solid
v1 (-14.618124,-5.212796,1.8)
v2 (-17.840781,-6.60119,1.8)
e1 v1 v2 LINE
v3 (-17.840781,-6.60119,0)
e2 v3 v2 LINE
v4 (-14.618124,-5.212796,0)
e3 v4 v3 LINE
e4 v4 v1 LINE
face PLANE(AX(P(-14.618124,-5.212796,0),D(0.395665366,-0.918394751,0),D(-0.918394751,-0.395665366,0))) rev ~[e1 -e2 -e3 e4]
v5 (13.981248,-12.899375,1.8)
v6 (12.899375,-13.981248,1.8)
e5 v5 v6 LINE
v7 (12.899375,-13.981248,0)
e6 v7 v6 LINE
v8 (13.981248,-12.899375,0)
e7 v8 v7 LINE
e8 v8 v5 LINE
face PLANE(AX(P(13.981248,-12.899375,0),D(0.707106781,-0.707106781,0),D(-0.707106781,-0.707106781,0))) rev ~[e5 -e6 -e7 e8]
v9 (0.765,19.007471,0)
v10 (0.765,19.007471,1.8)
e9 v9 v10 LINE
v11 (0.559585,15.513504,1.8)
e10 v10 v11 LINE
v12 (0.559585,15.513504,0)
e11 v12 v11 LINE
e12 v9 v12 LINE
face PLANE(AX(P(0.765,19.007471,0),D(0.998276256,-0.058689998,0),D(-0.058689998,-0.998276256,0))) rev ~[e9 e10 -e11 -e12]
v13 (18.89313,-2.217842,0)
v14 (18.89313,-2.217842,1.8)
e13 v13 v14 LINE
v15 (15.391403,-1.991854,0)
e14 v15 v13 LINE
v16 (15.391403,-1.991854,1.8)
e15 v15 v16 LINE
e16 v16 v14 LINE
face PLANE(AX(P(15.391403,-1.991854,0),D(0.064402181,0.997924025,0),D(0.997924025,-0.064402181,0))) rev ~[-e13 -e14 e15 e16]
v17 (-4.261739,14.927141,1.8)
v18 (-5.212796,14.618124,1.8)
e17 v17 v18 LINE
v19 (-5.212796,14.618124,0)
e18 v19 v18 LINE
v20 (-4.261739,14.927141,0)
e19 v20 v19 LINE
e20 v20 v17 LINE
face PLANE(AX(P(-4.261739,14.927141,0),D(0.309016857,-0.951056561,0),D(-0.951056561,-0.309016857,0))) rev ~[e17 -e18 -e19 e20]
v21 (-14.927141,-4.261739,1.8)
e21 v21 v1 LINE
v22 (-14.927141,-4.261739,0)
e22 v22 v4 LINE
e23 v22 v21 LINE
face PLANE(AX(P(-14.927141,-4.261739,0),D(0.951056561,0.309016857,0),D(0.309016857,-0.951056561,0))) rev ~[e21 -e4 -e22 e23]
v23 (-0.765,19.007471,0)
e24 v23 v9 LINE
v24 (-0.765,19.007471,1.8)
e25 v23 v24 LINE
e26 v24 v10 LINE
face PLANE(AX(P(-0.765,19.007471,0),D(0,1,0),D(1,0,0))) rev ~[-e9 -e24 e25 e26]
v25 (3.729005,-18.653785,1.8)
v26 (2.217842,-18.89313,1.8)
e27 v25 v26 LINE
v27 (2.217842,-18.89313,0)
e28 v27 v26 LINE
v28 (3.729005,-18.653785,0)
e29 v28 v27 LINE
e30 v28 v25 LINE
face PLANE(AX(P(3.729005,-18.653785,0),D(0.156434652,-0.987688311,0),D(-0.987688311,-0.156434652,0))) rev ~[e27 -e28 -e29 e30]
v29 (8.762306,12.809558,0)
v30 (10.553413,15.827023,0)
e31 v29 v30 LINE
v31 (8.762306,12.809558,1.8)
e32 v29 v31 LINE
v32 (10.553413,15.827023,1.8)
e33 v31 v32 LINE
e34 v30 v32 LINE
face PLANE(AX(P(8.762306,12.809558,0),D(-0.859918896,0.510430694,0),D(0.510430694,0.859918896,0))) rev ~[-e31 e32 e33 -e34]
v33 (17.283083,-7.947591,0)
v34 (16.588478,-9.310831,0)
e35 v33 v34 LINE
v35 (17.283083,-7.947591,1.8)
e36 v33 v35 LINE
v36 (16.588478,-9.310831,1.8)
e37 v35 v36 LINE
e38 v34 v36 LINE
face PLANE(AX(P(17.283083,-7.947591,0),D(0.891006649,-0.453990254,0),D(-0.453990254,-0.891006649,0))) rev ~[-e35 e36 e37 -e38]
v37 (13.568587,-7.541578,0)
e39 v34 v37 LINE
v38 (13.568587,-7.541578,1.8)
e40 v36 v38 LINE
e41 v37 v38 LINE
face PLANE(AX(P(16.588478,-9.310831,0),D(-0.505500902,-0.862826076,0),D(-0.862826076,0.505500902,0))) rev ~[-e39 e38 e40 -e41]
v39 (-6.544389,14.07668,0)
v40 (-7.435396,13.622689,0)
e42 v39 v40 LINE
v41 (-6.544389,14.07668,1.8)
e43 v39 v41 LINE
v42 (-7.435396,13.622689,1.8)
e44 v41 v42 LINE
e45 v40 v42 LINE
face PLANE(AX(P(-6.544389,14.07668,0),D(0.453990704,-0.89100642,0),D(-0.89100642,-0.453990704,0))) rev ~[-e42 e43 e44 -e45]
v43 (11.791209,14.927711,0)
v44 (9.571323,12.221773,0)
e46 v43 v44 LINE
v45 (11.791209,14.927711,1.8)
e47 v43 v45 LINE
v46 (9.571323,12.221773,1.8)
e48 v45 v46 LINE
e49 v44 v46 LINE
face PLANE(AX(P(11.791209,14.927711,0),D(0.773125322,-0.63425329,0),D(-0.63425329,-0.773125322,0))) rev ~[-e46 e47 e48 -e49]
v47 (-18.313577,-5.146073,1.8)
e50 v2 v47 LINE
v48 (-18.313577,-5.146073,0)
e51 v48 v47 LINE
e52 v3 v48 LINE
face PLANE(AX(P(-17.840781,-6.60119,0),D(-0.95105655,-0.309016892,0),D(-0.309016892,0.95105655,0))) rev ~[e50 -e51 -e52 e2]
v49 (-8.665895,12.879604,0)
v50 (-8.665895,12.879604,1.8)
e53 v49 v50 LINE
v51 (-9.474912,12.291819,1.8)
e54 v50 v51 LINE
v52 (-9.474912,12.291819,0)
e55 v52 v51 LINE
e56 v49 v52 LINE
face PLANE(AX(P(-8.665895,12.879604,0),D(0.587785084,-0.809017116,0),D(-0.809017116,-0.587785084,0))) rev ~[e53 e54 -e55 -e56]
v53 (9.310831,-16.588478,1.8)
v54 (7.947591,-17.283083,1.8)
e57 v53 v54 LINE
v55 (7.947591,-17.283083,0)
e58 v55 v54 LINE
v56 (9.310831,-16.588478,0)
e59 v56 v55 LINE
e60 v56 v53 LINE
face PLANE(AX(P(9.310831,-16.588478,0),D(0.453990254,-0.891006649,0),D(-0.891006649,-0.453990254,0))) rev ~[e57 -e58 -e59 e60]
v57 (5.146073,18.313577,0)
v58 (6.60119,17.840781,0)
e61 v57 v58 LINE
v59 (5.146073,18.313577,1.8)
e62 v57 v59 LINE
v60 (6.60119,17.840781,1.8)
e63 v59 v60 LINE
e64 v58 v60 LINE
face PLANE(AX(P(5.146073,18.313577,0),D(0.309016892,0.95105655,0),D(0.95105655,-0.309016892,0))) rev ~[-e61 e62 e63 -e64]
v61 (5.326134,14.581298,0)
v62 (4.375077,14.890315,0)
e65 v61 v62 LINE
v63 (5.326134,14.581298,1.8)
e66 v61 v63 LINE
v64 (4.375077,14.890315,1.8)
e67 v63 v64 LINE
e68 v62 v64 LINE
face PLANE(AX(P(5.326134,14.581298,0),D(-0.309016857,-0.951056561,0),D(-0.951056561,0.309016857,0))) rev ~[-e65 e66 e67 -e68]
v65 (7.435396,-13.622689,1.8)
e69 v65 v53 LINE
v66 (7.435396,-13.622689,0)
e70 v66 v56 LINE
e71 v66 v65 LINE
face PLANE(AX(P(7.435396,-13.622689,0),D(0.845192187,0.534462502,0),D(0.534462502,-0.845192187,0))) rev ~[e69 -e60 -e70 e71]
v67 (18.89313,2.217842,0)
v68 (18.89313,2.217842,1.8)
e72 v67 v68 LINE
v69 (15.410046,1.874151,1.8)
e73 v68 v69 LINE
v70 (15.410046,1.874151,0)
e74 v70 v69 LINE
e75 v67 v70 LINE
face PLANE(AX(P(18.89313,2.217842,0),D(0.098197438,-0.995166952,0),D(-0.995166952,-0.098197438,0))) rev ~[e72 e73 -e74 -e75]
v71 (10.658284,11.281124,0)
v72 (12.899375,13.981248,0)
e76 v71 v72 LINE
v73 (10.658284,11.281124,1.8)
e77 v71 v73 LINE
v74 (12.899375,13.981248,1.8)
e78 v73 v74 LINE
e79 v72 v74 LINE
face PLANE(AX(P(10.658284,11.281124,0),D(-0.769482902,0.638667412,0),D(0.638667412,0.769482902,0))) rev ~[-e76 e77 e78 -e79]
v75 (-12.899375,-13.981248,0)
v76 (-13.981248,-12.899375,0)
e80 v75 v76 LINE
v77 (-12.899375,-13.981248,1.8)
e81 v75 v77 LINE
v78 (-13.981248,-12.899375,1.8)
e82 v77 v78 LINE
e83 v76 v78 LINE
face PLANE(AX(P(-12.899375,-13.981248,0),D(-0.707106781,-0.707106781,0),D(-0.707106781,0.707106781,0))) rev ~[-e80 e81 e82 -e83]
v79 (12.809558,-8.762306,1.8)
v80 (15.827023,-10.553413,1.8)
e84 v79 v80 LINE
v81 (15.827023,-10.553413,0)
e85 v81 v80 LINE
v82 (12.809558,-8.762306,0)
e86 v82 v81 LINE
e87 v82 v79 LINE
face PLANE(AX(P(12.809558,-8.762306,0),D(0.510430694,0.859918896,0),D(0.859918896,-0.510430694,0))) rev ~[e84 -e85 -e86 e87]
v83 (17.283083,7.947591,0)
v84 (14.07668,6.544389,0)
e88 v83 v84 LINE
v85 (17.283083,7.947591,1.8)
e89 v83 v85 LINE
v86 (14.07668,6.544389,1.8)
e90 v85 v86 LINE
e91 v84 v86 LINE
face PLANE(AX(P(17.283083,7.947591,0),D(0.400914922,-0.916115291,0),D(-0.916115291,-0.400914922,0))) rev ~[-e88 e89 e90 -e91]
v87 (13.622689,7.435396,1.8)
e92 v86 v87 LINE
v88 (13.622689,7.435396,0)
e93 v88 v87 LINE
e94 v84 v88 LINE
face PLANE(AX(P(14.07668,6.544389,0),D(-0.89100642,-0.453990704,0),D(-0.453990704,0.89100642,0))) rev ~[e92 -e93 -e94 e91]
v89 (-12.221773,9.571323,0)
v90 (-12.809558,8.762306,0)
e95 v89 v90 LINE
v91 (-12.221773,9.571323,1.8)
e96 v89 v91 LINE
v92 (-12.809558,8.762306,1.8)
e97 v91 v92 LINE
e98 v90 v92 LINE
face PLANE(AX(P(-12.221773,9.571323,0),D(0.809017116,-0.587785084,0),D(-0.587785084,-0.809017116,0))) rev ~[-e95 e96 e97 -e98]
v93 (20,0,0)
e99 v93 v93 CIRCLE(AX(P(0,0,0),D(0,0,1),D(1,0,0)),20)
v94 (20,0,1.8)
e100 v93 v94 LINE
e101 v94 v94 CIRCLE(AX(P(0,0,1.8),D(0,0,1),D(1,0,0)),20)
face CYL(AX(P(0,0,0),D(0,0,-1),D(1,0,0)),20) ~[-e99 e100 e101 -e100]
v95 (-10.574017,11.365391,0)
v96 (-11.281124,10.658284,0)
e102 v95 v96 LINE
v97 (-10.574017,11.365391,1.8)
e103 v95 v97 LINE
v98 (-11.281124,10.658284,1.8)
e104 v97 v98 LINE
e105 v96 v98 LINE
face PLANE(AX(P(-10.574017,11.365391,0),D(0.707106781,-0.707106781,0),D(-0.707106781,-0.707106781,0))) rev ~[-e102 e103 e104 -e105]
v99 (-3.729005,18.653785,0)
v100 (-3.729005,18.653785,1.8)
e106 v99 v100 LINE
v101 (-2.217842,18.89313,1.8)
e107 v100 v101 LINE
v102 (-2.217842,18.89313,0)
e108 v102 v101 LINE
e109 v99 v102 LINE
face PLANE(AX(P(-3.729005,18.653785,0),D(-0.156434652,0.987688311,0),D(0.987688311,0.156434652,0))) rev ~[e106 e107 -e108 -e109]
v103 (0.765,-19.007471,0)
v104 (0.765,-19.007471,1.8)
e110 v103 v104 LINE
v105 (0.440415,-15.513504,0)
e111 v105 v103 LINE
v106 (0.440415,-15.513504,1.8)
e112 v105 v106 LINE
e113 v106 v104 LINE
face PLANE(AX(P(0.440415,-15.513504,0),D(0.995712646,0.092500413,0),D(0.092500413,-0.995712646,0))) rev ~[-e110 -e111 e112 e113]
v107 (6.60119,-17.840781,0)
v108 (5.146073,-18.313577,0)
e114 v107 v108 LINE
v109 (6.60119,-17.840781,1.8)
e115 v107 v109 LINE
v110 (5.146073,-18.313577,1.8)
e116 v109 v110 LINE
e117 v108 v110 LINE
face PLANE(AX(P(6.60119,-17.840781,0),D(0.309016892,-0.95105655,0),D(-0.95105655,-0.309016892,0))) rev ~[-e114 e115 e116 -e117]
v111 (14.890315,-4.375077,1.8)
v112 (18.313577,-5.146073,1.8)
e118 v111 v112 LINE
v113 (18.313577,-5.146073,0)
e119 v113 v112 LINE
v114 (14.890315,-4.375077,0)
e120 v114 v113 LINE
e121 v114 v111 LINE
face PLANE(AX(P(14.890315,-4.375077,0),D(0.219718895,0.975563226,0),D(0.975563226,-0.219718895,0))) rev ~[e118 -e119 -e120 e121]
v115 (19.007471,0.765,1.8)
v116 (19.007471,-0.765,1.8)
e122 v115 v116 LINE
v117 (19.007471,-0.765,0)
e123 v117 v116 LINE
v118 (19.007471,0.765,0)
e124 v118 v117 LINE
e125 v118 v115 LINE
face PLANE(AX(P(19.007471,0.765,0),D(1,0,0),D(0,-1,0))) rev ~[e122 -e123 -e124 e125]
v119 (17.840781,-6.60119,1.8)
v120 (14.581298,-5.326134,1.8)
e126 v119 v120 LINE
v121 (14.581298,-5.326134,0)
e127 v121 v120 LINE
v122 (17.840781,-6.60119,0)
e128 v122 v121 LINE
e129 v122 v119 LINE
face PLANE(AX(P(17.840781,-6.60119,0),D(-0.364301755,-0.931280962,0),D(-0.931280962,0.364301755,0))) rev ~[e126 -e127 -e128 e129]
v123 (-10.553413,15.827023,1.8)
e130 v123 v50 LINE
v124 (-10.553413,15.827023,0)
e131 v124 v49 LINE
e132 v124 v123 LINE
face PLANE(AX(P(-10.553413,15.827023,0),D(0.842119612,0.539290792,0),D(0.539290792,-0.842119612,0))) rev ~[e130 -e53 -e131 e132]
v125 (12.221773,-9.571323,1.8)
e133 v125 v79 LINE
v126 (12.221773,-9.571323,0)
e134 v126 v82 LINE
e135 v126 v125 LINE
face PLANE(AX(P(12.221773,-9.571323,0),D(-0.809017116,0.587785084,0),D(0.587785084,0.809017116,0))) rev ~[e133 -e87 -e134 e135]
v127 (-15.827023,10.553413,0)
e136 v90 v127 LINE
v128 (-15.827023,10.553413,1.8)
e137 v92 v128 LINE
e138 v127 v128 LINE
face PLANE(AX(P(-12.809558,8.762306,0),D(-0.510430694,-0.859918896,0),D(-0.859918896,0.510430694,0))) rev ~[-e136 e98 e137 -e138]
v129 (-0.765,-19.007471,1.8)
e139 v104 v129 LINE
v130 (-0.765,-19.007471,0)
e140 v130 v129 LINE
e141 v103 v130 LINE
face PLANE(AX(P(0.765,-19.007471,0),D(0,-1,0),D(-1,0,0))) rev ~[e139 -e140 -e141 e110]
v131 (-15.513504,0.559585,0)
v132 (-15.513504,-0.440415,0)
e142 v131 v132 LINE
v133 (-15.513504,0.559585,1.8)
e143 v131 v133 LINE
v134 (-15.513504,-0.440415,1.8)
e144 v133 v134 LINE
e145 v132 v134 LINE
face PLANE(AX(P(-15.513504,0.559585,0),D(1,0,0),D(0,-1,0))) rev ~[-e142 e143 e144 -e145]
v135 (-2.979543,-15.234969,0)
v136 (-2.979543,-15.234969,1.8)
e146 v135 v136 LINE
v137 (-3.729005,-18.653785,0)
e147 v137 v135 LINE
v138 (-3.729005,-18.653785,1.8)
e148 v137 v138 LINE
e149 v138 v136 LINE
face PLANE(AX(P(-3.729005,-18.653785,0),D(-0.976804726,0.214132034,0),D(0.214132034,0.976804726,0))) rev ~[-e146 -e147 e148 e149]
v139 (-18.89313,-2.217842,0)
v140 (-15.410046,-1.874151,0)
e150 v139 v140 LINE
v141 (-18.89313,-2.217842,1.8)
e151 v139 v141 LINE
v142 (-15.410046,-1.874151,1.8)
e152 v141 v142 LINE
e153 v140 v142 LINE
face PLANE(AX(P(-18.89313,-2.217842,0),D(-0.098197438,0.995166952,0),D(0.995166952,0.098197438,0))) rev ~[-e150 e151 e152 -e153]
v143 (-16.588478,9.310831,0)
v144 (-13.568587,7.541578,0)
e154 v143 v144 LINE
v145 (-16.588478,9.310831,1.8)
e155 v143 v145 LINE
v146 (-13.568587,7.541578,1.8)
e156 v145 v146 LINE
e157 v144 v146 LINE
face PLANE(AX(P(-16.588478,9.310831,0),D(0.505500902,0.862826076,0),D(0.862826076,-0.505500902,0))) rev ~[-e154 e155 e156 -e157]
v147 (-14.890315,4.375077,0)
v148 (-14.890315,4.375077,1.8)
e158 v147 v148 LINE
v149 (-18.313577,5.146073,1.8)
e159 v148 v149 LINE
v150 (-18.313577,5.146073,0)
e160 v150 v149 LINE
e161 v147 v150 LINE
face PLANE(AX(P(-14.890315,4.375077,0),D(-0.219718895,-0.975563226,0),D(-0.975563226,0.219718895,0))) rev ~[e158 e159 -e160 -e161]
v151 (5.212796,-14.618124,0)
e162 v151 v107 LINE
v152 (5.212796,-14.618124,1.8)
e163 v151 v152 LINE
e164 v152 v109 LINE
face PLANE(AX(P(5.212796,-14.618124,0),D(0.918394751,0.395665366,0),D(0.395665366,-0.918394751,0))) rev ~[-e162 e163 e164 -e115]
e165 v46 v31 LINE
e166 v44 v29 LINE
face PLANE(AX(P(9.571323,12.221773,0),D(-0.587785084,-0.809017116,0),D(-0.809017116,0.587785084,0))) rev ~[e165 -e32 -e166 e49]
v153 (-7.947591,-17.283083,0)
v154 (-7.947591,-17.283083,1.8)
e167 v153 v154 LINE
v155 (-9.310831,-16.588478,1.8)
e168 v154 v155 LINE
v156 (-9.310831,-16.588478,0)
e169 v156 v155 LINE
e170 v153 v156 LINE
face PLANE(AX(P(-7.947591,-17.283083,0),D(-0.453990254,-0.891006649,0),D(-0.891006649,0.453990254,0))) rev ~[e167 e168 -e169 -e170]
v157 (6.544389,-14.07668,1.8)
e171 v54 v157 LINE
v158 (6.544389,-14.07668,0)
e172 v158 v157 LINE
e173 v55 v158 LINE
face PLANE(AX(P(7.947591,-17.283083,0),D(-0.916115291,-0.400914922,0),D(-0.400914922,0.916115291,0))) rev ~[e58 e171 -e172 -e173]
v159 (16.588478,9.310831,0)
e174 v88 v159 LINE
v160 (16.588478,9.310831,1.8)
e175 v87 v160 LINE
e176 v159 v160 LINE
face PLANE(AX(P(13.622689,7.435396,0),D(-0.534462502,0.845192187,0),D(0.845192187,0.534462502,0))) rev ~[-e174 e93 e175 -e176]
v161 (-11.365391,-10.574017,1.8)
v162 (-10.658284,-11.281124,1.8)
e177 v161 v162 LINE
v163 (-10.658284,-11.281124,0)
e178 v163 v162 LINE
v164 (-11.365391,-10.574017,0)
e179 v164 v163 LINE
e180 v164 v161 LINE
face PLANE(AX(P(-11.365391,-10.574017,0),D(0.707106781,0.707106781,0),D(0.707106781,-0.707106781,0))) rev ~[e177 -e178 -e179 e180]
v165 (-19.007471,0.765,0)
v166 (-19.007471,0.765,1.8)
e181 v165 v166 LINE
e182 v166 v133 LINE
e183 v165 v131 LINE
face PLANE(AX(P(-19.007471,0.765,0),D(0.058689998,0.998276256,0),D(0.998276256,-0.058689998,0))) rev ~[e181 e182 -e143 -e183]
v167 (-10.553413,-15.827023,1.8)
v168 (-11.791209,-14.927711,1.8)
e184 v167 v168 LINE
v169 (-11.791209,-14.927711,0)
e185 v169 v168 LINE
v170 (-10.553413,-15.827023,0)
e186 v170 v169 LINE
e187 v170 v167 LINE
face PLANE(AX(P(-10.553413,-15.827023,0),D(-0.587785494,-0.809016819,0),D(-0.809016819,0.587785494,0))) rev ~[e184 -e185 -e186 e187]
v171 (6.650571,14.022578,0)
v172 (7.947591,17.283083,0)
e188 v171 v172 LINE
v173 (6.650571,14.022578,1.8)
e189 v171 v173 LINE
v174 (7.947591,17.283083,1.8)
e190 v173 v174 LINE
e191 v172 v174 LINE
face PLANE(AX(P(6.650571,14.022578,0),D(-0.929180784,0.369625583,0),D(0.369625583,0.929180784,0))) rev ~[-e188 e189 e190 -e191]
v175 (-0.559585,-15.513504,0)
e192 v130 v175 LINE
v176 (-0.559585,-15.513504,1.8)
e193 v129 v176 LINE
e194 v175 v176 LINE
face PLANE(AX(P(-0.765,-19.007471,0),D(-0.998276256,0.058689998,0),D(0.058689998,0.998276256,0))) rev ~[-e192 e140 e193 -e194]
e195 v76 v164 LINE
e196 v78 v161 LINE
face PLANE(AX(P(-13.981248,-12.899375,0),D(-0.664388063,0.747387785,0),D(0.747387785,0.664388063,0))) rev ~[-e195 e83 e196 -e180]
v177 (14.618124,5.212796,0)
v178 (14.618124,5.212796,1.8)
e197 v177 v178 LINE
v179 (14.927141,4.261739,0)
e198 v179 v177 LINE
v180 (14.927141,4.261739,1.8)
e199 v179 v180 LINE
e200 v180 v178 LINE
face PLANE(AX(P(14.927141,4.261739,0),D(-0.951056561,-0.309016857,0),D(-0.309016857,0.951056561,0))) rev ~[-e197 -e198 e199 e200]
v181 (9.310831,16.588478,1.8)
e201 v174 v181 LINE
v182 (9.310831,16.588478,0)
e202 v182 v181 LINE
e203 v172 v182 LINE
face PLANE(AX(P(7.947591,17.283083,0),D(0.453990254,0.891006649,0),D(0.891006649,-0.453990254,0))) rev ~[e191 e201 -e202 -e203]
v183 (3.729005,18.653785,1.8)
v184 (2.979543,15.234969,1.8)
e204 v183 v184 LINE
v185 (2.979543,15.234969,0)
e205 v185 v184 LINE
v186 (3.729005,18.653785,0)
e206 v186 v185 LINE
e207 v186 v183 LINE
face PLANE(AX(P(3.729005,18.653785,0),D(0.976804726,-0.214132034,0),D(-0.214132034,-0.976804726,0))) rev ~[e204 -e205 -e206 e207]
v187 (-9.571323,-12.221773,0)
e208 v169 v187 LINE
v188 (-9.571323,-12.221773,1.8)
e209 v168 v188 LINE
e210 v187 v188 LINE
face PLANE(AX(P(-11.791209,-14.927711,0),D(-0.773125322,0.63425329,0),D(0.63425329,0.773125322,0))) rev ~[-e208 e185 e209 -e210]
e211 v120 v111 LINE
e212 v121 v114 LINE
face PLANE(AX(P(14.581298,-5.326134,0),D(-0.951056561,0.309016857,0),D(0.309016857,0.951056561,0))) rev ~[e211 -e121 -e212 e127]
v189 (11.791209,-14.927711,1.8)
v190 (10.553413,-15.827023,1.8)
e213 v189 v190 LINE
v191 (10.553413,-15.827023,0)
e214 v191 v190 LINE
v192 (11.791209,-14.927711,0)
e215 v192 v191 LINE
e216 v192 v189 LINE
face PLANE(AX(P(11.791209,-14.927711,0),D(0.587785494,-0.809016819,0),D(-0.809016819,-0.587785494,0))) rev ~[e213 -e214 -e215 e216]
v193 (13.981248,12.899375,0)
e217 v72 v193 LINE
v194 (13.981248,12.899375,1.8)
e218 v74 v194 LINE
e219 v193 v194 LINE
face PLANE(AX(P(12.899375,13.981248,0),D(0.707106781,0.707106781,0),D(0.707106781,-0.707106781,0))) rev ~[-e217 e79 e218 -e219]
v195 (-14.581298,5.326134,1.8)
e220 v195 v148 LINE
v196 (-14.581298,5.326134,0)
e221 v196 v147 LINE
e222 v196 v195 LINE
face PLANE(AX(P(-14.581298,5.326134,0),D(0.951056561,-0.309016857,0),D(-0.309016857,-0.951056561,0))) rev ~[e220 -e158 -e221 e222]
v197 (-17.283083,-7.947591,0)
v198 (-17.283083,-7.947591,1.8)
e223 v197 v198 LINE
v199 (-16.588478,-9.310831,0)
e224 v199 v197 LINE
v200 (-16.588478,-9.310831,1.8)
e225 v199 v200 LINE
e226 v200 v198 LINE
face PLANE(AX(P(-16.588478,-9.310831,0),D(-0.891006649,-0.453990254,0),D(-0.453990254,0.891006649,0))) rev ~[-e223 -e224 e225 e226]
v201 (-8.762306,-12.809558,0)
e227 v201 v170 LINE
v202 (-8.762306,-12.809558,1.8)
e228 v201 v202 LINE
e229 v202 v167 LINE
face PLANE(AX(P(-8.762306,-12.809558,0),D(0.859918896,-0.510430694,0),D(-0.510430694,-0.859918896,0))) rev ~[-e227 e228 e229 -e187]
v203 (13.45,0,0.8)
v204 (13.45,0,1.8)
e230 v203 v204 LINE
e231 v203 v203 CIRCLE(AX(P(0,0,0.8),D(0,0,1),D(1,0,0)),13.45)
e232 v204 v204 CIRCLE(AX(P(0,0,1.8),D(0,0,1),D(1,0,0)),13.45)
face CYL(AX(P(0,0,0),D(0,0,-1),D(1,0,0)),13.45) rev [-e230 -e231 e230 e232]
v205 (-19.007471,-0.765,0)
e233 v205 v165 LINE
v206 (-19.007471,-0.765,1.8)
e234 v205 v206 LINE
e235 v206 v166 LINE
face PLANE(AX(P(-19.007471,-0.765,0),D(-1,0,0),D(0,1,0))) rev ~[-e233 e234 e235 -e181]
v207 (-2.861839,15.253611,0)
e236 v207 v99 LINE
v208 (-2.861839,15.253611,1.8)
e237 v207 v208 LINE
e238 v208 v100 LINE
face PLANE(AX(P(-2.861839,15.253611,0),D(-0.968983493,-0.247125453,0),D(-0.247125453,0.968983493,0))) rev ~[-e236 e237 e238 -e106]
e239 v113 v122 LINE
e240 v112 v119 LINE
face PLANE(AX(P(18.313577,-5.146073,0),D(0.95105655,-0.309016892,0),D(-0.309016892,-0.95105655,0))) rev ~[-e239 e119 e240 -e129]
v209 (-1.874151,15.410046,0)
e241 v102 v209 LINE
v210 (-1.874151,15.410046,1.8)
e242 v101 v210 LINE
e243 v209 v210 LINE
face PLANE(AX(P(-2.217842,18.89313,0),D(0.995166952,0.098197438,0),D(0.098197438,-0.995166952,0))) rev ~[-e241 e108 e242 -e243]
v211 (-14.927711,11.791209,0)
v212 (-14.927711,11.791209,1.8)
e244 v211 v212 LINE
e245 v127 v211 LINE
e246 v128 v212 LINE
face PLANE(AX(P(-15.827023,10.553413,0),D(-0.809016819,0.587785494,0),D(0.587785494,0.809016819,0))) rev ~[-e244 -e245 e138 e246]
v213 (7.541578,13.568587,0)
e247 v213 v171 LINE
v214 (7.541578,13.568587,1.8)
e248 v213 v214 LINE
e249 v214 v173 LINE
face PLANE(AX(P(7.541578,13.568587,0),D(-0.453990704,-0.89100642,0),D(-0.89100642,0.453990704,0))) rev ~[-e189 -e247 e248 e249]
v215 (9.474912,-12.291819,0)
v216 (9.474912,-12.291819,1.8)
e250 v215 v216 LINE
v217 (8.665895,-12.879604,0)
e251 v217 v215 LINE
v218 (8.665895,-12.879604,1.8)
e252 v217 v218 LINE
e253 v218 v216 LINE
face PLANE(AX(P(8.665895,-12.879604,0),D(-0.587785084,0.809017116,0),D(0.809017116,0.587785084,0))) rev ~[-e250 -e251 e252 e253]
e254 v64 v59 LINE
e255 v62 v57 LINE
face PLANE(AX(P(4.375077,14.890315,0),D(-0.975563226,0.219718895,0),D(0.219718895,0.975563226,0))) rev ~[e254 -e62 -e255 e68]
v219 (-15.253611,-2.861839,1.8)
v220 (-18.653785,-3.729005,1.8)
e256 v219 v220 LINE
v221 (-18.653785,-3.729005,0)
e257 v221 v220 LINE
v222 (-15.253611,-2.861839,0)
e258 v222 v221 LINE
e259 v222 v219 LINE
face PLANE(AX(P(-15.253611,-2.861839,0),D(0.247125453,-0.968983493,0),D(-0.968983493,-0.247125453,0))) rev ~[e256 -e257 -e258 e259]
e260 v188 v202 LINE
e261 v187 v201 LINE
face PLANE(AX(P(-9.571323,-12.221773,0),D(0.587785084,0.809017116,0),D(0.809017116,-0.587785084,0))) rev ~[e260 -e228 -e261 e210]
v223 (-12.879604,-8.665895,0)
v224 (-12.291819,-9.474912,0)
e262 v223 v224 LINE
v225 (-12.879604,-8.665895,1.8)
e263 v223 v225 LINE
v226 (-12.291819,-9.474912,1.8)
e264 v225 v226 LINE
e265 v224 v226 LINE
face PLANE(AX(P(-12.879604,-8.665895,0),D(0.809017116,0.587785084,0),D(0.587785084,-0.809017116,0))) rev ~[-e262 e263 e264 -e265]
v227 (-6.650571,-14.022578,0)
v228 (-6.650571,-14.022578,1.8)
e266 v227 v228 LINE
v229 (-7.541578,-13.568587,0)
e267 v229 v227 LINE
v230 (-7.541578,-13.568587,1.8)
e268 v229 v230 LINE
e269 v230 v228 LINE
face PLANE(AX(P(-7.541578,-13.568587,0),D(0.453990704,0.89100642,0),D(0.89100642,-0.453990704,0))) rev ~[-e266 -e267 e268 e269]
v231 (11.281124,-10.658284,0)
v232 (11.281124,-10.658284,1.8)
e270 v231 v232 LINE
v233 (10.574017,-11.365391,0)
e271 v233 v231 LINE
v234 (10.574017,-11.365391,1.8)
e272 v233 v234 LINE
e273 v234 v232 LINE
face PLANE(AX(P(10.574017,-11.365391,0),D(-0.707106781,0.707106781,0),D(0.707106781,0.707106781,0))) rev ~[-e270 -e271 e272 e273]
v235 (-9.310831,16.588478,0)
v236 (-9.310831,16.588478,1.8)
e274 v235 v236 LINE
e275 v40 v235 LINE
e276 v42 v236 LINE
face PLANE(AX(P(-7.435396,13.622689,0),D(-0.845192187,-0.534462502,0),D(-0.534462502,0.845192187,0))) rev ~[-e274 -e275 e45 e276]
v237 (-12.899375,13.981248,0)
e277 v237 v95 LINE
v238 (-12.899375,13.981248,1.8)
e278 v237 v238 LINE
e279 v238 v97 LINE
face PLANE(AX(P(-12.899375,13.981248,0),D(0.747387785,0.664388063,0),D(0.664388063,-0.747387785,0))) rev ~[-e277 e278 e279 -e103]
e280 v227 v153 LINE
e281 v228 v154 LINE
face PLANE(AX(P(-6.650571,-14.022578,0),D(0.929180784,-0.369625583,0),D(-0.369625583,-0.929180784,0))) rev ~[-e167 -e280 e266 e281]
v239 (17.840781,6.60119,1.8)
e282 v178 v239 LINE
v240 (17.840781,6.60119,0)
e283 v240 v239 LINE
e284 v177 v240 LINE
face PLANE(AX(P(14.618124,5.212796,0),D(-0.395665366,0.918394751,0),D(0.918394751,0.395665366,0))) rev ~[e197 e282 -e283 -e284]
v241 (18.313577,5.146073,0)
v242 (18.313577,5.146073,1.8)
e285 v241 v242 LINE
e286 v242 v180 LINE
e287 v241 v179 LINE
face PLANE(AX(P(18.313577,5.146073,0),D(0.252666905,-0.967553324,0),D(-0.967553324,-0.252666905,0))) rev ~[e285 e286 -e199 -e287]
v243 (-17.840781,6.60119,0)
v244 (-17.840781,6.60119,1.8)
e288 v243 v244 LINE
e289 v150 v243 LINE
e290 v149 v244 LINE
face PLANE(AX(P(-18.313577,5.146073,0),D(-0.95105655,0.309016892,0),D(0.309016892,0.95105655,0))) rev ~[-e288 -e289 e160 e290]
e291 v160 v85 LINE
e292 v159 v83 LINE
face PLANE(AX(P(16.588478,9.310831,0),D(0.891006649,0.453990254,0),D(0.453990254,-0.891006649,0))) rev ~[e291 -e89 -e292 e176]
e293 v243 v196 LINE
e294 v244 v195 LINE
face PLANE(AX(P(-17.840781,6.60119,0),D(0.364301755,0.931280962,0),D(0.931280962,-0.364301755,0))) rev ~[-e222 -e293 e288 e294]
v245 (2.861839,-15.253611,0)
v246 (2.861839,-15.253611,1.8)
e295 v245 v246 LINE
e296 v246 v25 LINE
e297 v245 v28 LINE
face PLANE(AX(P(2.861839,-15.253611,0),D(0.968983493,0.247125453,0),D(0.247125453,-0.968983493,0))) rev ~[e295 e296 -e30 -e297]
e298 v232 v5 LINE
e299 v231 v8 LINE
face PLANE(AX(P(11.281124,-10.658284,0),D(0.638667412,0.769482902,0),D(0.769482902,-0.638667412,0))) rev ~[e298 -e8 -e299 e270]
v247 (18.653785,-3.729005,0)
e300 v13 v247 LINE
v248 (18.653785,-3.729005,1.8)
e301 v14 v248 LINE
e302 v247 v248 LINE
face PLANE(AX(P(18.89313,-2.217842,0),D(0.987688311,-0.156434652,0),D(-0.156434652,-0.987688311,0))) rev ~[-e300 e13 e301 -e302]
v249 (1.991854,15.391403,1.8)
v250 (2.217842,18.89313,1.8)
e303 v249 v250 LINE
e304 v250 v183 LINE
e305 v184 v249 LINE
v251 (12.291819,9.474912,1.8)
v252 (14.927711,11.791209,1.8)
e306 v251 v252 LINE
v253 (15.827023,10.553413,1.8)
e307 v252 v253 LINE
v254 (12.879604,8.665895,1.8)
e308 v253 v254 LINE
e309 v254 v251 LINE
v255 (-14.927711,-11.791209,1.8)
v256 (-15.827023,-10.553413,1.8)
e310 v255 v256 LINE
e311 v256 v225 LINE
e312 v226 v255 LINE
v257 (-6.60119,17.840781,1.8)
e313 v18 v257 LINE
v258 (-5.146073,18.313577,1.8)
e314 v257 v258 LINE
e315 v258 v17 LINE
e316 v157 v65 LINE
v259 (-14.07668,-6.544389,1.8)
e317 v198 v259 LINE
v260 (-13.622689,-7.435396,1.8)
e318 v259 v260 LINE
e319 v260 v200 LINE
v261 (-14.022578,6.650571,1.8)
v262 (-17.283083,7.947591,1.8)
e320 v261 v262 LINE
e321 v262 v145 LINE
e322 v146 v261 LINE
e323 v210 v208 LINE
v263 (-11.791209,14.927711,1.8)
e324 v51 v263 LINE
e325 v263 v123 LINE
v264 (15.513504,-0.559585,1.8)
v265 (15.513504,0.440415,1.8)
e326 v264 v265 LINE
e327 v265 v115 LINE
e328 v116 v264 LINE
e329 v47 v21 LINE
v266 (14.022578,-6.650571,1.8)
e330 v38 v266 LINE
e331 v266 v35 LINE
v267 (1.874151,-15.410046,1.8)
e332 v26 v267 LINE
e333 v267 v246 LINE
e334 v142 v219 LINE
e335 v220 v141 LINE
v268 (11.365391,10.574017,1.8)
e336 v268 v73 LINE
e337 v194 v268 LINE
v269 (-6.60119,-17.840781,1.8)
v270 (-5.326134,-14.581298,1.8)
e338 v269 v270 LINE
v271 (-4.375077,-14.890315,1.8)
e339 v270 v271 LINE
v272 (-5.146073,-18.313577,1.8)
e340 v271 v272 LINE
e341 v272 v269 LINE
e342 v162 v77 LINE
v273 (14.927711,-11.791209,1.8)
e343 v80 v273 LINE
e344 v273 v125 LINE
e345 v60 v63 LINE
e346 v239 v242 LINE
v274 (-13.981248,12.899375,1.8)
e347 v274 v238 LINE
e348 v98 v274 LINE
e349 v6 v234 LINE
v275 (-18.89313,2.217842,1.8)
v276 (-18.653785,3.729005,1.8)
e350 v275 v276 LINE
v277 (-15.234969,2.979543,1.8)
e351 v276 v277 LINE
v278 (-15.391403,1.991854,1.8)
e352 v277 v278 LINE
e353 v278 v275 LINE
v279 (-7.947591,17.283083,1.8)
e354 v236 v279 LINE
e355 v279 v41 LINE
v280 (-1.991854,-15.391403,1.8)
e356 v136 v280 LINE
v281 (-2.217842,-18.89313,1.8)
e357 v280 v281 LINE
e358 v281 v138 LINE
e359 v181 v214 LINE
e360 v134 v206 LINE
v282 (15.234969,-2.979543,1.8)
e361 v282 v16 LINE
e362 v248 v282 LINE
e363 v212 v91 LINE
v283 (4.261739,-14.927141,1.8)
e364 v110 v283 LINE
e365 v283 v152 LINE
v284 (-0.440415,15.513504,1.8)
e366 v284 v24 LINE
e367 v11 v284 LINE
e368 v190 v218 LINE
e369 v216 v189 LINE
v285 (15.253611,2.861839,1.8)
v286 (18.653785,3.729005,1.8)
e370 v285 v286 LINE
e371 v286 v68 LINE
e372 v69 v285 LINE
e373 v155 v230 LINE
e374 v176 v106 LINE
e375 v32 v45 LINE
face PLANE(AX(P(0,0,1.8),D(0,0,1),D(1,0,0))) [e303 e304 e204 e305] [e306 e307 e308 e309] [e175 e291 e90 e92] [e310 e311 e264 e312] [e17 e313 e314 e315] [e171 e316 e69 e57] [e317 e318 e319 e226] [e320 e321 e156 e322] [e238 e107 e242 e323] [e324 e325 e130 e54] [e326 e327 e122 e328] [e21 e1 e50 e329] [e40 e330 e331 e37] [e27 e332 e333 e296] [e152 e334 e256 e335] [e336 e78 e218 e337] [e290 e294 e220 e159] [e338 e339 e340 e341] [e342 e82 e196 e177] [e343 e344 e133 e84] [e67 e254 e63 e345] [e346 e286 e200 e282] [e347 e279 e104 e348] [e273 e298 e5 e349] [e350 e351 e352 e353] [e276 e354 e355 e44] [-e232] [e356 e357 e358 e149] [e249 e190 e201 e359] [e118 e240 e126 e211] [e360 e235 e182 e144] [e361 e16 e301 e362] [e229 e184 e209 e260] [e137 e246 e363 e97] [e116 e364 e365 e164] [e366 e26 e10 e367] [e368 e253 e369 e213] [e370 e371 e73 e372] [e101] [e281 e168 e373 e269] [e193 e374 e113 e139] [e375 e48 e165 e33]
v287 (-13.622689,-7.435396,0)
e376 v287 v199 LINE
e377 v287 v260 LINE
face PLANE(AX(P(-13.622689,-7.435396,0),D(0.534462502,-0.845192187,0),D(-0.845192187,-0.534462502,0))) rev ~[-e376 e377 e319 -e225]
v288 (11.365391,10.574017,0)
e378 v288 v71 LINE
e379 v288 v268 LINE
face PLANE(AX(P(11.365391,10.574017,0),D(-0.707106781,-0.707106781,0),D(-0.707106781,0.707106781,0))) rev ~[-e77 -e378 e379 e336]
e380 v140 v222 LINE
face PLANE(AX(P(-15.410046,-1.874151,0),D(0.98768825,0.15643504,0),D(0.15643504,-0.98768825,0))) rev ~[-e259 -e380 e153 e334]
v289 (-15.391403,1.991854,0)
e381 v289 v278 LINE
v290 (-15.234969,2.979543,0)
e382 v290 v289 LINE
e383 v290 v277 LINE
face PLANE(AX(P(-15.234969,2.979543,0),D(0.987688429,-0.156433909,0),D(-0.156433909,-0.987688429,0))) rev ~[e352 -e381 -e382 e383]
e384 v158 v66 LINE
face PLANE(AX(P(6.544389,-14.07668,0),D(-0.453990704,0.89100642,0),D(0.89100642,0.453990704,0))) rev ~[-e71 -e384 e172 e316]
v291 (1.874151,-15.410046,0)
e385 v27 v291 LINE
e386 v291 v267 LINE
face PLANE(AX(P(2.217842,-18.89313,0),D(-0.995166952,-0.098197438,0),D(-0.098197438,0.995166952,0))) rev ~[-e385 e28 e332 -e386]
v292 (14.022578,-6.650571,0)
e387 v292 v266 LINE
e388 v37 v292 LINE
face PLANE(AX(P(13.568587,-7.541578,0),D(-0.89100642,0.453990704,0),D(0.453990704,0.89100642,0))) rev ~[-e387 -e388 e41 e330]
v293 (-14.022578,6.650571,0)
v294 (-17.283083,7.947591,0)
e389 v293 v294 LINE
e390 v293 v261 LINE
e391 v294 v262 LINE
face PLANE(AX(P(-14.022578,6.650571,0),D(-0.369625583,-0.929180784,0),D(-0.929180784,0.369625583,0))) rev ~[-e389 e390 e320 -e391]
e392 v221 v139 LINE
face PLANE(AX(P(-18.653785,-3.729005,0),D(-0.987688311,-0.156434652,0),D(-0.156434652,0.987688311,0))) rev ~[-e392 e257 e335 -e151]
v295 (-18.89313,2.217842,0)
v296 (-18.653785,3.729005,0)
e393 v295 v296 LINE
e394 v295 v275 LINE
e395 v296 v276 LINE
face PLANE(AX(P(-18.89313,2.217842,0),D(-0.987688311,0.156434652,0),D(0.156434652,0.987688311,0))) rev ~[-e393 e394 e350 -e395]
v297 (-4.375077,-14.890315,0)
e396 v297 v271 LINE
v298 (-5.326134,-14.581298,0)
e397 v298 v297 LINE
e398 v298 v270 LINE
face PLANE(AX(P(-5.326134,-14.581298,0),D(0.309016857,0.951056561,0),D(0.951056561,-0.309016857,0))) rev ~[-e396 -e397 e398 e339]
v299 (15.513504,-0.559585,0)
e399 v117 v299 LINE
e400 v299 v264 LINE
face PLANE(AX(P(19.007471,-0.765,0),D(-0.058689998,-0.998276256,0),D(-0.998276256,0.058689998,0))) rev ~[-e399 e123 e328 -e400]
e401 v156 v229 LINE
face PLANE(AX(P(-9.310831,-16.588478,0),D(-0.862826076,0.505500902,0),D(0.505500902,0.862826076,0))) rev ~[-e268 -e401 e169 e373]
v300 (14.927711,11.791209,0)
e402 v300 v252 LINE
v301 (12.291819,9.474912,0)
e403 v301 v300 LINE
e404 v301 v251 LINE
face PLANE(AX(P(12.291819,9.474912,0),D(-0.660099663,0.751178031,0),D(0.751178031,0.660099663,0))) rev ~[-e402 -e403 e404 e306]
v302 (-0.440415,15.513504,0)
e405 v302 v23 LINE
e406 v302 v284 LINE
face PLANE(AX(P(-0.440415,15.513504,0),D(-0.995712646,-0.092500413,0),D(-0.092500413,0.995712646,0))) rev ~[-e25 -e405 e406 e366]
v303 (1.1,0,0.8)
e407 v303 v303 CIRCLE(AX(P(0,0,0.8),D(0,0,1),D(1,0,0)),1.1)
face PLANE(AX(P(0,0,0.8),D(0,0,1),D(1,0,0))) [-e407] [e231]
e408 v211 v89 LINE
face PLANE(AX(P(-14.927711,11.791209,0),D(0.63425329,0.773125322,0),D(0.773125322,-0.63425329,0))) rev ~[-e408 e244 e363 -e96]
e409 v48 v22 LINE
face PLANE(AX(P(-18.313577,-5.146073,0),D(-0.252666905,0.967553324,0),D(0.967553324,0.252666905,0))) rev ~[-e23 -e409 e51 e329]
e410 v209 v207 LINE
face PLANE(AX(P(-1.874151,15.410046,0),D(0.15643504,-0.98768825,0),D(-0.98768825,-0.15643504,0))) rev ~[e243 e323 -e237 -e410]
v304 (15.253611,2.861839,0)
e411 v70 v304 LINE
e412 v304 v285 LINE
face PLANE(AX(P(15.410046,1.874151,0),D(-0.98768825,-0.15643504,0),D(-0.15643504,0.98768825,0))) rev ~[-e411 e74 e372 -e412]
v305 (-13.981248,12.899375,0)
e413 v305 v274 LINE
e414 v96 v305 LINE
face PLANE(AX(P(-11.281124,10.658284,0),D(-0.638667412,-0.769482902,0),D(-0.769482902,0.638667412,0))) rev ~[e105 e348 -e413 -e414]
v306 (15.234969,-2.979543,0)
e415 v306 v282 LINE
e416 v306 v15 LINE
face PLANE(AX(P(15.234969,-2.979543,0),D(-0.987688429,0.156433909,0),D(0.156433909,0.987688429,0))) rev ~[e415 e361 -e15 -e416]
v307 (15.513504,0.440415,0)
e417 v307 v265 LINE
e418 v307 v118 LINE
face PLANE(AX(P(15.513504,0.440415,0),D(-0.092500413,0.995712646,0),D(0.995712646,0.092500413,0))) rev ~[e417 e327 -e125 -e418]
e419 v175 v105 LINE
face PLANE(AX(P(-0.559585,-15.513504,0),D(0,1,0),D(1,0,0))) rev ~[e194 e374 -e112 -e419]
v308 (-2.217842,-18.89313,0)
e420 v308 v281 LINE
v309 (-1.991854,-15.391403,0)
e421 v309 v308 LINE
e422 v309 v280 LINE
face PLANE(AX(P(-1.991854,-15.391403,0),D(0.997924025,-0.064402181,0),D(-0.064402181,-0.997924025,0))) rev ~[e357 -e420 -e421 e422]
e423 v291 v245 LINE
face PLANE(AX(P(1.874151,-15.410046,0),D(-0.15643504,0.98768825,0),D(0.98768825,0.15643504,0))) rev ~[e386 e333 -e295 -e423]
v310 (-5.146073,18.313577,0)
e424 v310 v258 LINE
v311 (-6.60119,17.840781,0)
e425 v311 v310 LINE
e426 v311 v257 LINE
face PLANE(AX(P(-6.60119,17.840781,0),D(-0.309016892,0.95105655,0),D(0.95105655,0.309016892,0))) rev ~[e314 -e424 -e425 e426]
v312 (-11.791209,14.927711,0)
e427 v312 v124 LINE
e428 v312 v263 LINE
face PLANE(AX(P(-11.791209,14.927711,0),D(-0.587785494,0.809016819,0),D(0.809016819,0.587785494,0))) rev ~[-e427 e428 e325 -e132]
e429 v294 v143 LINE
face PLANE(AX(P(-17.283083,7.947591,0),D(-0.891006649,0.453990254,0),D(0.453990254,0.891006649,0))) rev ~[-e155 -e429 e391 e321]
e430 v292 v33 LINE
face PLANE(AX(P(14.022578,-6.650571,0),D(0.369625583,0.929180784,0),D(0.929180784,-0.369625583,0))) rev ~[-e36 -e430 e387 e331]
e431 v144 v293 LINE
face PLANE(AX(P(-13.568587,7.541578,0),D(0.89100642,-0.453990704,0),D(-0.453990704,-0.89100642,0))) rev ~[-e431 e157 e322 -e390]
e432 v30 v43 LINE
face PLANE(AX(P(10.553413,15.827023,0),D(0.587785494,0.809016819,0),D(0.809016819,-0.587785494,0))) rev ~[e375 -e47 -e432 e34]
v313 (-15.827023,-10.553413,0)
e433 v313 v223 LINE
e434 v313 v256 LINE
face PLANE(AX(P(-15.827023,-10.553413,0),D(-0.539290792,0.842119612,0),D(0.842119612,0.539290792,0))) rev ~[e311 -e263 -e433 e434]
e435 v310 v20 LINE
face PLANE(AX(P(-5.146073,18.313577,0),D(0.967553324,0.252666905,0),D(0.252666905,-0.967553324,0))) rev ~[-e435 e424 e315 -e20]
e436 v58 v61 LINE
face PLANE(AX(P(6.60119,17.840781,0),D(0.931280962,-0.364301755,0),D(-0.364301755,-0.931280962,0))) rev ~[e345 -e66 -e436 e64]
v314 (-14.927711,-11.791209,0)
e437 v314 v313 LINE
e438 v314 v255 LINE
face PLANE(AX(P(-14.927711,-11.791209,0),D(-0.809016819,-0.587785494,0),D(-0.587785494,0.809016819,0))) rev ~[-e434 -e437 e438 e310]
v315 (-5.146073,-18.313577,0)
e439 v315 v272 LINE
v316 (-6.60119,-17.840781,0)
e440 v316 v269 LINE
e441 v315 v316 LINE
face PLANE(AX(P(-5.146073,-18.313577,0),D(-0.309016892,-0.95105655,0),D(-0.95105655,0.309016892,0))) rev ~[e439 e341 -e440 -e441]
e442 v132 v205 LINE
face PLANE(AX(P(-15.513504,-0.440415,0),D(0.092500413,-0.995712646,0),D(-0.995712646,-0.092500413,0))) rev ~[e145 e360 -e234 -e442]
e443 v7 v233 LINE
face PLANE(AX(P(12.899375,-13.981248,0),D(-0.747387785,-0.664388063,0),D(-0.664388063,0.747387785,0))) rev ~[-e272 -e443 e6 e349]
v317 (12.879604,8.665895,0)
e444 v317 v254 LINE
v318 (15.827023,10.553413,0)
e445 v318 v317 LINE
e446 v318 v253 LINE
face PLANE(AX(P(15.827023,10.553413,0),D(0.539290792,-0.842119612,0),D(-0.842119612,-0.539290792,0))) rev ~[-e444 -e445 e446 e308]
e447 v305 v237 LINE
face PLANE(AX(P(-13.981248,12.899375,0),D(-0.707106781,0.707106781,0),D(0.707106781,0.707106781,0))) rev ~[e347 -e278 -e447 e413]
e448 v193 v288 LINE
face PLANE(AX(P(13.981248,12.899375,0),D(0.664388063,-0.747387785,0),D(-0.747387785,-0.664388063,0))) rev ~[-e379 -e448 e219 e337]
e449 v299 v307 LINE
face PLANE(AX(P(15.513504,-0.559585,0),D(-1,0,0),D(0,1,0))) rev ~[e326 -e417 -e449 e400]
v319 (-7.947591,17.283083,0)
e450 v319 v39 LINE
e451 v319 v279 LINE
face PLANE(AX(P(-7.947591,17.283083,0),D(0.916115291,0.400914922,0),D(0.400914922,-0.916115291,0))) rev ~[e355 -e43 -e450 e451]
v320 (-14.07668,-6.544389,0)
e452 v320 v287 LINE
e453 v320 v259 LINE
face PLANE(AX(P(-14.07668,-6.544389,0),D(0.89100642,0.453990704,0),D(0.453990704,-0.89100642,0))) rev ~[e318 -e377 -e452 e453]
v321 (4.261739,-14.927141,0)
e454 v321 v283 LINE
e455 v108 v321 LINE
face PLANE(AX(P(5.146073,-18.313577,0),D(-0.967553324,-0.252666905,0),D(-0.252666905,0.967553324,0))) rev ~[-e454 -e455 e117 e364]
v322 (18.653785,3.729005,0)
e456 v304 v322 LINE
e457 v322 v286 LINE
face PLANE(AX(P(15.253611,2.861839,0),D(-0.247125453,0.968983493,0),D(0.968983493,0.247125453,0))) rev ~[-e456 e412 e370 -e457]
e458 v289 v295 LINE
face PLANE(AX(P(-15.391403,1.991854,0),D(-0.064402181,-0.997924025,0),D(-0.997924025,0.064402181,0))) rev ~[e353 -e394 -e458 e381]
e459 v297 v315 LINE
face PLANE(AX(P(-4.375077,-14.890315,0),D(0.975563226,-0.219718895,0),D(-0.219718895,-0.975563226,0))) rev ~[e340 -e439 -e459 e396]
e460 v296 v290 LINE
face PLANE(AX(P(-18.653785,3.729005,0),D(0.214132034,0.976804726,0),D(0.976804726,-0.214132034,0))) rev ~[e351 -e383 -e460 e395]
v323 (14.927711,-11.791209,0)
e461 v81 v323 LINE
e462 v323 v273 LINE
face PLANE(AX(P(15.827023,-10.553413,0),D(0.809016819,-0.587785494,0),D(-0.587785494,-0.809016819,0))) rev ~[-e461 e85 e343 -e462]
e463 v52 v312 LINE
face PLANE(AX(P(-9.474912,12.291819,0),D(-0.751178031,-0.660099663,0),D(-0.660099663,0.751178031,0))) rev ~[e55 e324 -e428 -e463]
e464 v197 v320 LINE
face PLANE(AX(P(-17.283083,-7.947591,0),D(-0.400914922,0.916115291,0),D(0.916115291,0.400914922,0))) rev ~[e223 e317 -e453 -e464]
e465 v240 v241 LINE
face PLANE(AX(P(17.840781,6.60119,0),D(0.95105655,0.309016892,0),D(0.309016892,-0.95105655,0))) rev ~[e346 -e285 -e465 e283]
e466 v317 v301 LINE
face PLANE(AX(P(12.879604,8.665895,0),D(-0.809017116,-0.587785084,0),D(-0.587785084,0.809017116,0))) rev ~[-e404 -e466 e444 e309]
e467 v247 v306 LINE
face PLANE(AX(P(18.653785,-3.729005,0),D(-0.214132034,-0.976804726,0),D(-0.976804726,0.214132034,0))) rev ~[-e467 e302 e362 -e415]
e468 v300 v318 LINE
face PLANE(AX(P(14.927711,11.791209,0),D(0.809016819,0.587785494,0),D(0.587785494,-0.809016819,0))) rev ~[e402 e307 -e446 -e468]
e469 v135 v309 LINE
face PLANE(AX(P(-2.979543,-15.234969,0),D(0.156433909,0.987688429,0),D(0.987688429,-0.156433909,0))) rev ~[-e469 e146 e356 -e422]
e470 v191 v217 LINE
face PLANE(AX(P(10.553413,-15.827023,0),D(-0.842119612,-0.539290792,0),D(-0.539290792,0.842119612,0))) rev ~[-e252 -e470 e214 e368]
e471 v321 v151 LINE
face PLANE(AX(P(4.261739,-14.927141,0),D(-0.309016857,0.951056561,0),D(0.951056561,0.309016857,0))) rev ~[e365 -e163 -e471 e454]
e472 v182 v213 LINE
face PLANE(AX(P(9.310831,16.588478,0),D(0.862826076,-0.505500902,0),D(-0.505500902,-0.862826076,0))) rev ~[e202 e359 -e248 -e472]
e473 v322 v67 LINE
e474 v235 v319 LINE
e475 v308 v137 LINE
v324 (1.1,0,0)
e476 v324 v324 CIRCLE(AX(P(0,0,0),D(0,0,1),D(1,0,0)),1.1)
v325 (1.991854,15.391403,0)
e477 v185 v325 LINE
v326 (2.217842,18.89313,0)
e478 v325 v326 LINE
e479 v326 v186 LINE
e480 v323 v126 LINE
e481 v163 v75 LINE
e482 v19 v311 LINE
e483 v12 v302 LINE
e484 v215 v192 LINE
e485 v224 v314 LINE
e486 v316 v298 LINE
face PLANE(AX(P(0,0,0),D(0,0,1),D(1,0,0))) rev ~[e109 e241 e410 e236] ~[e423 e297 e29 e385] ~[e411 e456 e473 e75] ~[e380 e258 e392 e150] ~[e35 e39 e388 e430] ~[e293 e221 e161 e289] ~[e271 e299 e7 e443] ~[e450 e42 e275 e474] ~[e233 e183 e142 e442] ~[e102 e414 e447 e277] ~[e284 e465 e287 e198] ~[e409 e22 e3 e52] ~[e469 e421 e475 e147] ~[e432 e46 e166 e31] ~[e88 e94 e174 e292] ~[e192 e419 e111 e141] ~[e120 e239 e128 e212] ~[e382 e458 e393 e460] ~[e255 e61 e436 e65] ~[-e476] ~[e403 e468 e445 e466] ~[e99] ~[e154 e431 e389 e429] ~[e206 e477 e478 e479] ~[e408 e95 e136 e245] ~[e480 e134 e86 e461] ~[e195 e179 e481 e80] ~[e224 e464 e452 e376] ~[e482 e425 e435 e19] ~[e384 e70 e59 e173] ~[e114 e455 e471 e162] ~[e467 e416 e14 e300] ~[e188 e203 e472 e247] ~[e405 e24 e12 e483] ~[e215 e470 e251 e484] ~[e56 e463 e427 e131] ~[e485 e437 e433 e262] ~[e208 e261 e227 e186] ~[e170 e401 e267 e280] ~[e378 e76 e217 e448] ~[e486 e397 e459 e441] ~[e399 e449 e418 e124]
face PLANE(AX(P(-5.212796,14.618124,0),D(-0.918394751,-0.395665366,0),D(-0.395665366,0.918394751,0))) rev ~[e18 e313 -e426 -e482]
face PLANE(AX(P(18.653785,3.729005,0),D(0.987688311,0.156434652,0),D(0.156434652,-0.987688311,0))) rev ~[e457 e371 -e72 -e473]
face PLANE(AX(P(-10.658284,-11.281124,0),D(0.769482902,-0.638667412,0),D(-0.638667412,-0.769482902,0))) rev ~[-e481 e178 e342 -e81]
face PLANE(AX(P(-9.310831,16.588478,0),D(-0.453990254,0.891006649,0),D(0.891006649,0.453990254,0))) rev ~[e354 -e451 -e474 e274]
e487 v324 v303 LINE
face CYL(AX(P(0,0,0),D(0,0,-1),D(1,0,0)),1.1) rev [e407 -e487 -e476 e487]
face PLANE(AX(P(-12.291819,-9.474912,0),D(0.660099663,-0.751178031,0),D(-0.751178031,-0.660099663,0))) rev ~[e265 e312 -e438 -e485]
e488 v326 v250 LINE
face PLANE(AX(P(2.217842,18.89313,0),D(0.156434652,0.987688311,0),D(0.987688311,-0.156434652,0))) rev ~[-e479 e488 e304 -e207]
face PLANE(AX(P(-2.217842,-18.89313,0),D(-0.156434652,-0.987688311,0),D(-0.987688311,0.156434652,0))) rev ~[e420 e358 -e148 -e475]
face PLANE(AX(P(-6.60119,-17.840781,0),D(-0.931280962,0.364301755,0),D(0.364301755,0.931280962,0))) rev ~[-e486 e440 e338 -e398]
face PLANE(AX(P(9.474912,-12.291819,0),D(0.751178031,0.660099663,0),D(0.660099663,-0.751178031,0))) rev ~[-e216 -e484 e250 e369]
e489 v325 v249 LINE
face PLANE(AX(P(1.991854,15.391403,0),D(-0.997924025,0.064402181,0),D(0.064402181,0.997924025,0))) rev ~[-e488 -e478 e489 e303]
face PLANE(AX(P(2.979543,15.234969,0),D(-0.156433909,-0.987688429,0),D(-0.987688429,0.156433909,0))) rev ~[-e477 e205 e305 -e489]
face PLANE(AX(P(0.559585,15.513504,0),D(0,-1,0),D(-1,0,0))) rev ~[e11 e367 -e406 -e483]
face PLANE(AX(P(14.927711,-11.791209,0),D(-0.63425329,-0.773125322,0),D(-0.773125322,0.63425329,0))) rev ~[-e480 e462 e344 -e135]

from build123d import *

# Parameters (mm, degrees)
F0_R     = 20
F0_R_2   = 13.45
F1_DEPTH = 1.8
F0_R_3   = 1.1
F2_DEPTH = 0.8


with BuildPart() as f1:
    # F0 (on Top) → F1 (new body)
    with BuildSketch(Plane.XY):
        Circle(F0_R)
        Polygon((-10.553413, -15.827023), (-11.791209, -14.927711), (-9.571323, -12.221773), (-8.762306, -12.809558), align=None, mode=Mode.SUBTRACT)
        Polygon((-14.927711, -11.791209), (-15.827023, -10.553413), (-12.879604, -8.665895), (-12.291819, -9.474912), align=None, mode=Mode.SUBTRACT)
        Polygon((-12.899375, -13.981248), (-13.981248, -12.899375), (-11.365391, -10.574017), (-10.658284, -11.281124), align=None, mode=Mode.SUBTRACT)
        Polygon((-7.947591, -17.283083), (-9.310831, -16.588478), (-7.541578, -13.568587), (-6.650571, -14.022578), align=None, mode=Mode.SUBTRACT)
        Polygon((-5.146073, -18.313577), (-6.60119, -17.840781), (-5.326134, -14.581298), (-4.375077, -14.890315), align=None, mode=Mode.SUBTRACT)
        Polygon((-2.217842, -18.89313), (-3.729005, -18.653785), (-2.979543, -15.234969), (-1.991854, -15.391403), align=None, mode=Mode.SUBTRACT)
        Polygon((-16.588478, -9.310831), (-17.283083, -7.947591), (-14.07668, -6.544389), (-13.622689, -7.435396), align=None, mode=Mode.SUBTRACT)
        Polygon((-17.840781, -6.60119), (-18.313577, -5.146073), (-14.927141, -4.261739), (-14.618124, -5.212796), align=None, mode=Mode.SUBTRACT)
        Polygon((-18.653785, -3.729005), (-18.89313, -2.217842), (-15.410046, -1.874151), (-15.253611, -2.861839), align=None, mode=Mode.SUBTRACT)
        Polygon((0.765, -19.007471), (-0.765, -19.007471), (-0.559585, -15.513504), (0.440415, -15.513504), align=None, mode=Mode.SUBTRACT)
        Polygon((3.729005, -18.653785), (2.217842, -18.89313), (1.874151, -15.410046), (2.861839, -15.253611), align=None, mode=Mode.SUBTRACT)
        Polygon((6.60119, -17.840781), (5.146073, -18.313577), (4.261739, -14.927141), (5.212796, -14.618124), align=None, mode=Mode.SUBTRACT)
        Polygon((9.310831, -16.588478), (7.947591, -17.283083), (6.544389, -14.07668), (7.435396, -13.622689), align=None, mode=Mode.SUBTRACT)
        Polygon((11.791209, -14.927711), (10.553413, -15.827023), (8.665895, -12.879604), (9.474912, -12.291819), align=None, mode=Mode.SUBTRACT)
        Polygon((13.981248, -12.899375), (12.899375, -13.981248), (10.574017, -11.365391), (11.281124, -10.658284), align=None, mode=Mode.SUBTRACT)
        Polygon((15.827023, -10.553413), (14.927711, -11.791209), (12.221773, -9.571323), (12.809558, -8.762306), align=None, mode=Mode.SUBTRACT)
        Polygon((17.283083, -7.947591), (16.588478, -9.310831), (13.568587, -7.541578), (14.022578, -6.650571), align=None, mode=Mode.SUBTRACT)
        Polygon((18.313577, -5.146073), (17.840781, -6.60119), (14.581298, -5.326134), (14.890315, -4.375077), align=None, mode=Mode.SUBTRACT)
        Polygon((18.89313, -2.217842), (18.653785, -3.729005), (15.234969, -2.979543), (15.391403, -1.991854), align=None, mode=Mode.SUBTRACT)
        Polygon((-19.007471, -0.765), (-19.007471, 0.765), (-15.513504, 0.559585), (-15.513504, -0.440415), align=None, mode=Mode.SUBTRACT)
        Polygon((-18.89313, 2.217842), (-18.653785, 3.729005), (-15.234969, 2.979543), (-15.391403, 1.991854), align=None, mode=Mode.SUBTRACT)
        Polygon((-18.313577, 5.146073), (-17.840781, 6.60119), (-14.581298, 5.326134), (-14.890315, 4.375077), align=None, mode=Mode.SUBTRACT)
        Polygon((-17.283083, 7.947591), (-16.588478, 9.310831), (-13.568587, 7.541578), (-14.022578, 6.650571), align=None, mode=Mode.SUBTRACT)
        Polygon((-15.827023, 10.553413), (-14.927711, 11.791209), (-12.221773, 9.571323), (-12.809558, 8.762306), align=None, mode=Mode.SUBTRACT)
        Polygon((-13.981248, 12.899375), (-12.899375, 13.981248), (-10.574017, 11.365391), (-11.281124, 10.658284), align=None, mode=Mode.SUBTRACT)
        Polygon((-11.791209, 14.927711), (-10.553413, 15.827023), (-8.665895, 12.879604), (-9.474912, 12.291819), align=None, mode=Mode.SUBTRACT)
        Polygon((-9.310831, 16.588478), (-7.947591, 17.283083), (-6.544389, 14.07668), (-7.435396, 13.622689), align=None, mode=Mode.SUBTRACT)
        Polygon((-6.60119, 17.840781), (-5.146073, 18.313577), (-4.261739, 14.927141), (-5.212796, 14.618124), align=None, mode=Mode.SUBTRACT)
        Polygon((-3.729005, 18.653785), (-2.217842, 18.89313), (-1.874151, 15.410046), (-2.861839, 15.253611), align=None, mode=Mode.SUBTRACT)
        Circle(F0_R_2, mode=Mode.SUBTRACT)
        Polygon((19.007471, 0.765), (19.007471, -0.765), (15.513504, -0.559585), (15.513504, 0.440415), align=None, mode=Mode.SUBTRACT)
        Polygon((18.653785, 3.729005), (18.89313, 2.217842), (15.410046, 1.874151), (15.253611, 2.861839), align=None, mode=Mode.SUBTRACT)
        Polygon((17.840781, 6.60119), (18.313577, 5.146073), (14.927141, 4.261739), (14.618124, 5.212796), align=None, mode=Mode.SUBTRACT)
        Polygon((16.588478, 9.310831), (17.283083, 7.947591), (14.07668, 6.544389), (13.622689, 7.435396), align=None, mode=Mode.SUBTRACT)
        Polygon((-0.765, 19.007471), (0.765, 19.007471), (0.559585, 15.513504), (-0.440415, 15.513504), align=None, mode=Mode.SUBTRACT)
        Polygon((2.217842, 18.89313), (3.729005, 18.653785), (2.979543, 15.234969), (1.991854, 15.391403), align=None, mode=Mode.SUBTRACT)
        Polygon((5.146073, 18.313577), (6.60119, 17.840781), (5.326134, 14.581298), (4.375077, 14.890315), align=None, mode=Mode.SUBTRACT)
        Polygon((7.947591, 17.283083), (9.310831, 16.588478), (7.541578, 13.568587), (6.650571, 14.022578), align=None, mode=Mode.SUBTRACT)
        Polygon((12.899375, 13.981248), (13.981248, 12.899375), (11.365391, 10.574017), (10.658284, 11.281124), align=None, mode=Mode.SUBTRACT)
        Polygon((14.927711, 11.791209), (15.827023, 10.553413), (12.879604, 8.665895), (12.291819, 9.474912), align=None, mode=Mode.SUBTRACT)
        Polygon((10.553413, 15.827023), (11.791209, 14.927711), (9.571323, 12.221773), (8.762306, 12.809558), align=None, mode=Mode.SUBTRACT)
    extrude(amount=F1_DEPTH)

    # F0 (on Top) → F2 (join)
    with BuildSketch(Plane.XY):
        Circle(F0_R_2)
        Circle(F0_R_3, mode=Mode.SUBTRACT)
    extrude(amount=F2_DEPTH)


solid = f1.part
